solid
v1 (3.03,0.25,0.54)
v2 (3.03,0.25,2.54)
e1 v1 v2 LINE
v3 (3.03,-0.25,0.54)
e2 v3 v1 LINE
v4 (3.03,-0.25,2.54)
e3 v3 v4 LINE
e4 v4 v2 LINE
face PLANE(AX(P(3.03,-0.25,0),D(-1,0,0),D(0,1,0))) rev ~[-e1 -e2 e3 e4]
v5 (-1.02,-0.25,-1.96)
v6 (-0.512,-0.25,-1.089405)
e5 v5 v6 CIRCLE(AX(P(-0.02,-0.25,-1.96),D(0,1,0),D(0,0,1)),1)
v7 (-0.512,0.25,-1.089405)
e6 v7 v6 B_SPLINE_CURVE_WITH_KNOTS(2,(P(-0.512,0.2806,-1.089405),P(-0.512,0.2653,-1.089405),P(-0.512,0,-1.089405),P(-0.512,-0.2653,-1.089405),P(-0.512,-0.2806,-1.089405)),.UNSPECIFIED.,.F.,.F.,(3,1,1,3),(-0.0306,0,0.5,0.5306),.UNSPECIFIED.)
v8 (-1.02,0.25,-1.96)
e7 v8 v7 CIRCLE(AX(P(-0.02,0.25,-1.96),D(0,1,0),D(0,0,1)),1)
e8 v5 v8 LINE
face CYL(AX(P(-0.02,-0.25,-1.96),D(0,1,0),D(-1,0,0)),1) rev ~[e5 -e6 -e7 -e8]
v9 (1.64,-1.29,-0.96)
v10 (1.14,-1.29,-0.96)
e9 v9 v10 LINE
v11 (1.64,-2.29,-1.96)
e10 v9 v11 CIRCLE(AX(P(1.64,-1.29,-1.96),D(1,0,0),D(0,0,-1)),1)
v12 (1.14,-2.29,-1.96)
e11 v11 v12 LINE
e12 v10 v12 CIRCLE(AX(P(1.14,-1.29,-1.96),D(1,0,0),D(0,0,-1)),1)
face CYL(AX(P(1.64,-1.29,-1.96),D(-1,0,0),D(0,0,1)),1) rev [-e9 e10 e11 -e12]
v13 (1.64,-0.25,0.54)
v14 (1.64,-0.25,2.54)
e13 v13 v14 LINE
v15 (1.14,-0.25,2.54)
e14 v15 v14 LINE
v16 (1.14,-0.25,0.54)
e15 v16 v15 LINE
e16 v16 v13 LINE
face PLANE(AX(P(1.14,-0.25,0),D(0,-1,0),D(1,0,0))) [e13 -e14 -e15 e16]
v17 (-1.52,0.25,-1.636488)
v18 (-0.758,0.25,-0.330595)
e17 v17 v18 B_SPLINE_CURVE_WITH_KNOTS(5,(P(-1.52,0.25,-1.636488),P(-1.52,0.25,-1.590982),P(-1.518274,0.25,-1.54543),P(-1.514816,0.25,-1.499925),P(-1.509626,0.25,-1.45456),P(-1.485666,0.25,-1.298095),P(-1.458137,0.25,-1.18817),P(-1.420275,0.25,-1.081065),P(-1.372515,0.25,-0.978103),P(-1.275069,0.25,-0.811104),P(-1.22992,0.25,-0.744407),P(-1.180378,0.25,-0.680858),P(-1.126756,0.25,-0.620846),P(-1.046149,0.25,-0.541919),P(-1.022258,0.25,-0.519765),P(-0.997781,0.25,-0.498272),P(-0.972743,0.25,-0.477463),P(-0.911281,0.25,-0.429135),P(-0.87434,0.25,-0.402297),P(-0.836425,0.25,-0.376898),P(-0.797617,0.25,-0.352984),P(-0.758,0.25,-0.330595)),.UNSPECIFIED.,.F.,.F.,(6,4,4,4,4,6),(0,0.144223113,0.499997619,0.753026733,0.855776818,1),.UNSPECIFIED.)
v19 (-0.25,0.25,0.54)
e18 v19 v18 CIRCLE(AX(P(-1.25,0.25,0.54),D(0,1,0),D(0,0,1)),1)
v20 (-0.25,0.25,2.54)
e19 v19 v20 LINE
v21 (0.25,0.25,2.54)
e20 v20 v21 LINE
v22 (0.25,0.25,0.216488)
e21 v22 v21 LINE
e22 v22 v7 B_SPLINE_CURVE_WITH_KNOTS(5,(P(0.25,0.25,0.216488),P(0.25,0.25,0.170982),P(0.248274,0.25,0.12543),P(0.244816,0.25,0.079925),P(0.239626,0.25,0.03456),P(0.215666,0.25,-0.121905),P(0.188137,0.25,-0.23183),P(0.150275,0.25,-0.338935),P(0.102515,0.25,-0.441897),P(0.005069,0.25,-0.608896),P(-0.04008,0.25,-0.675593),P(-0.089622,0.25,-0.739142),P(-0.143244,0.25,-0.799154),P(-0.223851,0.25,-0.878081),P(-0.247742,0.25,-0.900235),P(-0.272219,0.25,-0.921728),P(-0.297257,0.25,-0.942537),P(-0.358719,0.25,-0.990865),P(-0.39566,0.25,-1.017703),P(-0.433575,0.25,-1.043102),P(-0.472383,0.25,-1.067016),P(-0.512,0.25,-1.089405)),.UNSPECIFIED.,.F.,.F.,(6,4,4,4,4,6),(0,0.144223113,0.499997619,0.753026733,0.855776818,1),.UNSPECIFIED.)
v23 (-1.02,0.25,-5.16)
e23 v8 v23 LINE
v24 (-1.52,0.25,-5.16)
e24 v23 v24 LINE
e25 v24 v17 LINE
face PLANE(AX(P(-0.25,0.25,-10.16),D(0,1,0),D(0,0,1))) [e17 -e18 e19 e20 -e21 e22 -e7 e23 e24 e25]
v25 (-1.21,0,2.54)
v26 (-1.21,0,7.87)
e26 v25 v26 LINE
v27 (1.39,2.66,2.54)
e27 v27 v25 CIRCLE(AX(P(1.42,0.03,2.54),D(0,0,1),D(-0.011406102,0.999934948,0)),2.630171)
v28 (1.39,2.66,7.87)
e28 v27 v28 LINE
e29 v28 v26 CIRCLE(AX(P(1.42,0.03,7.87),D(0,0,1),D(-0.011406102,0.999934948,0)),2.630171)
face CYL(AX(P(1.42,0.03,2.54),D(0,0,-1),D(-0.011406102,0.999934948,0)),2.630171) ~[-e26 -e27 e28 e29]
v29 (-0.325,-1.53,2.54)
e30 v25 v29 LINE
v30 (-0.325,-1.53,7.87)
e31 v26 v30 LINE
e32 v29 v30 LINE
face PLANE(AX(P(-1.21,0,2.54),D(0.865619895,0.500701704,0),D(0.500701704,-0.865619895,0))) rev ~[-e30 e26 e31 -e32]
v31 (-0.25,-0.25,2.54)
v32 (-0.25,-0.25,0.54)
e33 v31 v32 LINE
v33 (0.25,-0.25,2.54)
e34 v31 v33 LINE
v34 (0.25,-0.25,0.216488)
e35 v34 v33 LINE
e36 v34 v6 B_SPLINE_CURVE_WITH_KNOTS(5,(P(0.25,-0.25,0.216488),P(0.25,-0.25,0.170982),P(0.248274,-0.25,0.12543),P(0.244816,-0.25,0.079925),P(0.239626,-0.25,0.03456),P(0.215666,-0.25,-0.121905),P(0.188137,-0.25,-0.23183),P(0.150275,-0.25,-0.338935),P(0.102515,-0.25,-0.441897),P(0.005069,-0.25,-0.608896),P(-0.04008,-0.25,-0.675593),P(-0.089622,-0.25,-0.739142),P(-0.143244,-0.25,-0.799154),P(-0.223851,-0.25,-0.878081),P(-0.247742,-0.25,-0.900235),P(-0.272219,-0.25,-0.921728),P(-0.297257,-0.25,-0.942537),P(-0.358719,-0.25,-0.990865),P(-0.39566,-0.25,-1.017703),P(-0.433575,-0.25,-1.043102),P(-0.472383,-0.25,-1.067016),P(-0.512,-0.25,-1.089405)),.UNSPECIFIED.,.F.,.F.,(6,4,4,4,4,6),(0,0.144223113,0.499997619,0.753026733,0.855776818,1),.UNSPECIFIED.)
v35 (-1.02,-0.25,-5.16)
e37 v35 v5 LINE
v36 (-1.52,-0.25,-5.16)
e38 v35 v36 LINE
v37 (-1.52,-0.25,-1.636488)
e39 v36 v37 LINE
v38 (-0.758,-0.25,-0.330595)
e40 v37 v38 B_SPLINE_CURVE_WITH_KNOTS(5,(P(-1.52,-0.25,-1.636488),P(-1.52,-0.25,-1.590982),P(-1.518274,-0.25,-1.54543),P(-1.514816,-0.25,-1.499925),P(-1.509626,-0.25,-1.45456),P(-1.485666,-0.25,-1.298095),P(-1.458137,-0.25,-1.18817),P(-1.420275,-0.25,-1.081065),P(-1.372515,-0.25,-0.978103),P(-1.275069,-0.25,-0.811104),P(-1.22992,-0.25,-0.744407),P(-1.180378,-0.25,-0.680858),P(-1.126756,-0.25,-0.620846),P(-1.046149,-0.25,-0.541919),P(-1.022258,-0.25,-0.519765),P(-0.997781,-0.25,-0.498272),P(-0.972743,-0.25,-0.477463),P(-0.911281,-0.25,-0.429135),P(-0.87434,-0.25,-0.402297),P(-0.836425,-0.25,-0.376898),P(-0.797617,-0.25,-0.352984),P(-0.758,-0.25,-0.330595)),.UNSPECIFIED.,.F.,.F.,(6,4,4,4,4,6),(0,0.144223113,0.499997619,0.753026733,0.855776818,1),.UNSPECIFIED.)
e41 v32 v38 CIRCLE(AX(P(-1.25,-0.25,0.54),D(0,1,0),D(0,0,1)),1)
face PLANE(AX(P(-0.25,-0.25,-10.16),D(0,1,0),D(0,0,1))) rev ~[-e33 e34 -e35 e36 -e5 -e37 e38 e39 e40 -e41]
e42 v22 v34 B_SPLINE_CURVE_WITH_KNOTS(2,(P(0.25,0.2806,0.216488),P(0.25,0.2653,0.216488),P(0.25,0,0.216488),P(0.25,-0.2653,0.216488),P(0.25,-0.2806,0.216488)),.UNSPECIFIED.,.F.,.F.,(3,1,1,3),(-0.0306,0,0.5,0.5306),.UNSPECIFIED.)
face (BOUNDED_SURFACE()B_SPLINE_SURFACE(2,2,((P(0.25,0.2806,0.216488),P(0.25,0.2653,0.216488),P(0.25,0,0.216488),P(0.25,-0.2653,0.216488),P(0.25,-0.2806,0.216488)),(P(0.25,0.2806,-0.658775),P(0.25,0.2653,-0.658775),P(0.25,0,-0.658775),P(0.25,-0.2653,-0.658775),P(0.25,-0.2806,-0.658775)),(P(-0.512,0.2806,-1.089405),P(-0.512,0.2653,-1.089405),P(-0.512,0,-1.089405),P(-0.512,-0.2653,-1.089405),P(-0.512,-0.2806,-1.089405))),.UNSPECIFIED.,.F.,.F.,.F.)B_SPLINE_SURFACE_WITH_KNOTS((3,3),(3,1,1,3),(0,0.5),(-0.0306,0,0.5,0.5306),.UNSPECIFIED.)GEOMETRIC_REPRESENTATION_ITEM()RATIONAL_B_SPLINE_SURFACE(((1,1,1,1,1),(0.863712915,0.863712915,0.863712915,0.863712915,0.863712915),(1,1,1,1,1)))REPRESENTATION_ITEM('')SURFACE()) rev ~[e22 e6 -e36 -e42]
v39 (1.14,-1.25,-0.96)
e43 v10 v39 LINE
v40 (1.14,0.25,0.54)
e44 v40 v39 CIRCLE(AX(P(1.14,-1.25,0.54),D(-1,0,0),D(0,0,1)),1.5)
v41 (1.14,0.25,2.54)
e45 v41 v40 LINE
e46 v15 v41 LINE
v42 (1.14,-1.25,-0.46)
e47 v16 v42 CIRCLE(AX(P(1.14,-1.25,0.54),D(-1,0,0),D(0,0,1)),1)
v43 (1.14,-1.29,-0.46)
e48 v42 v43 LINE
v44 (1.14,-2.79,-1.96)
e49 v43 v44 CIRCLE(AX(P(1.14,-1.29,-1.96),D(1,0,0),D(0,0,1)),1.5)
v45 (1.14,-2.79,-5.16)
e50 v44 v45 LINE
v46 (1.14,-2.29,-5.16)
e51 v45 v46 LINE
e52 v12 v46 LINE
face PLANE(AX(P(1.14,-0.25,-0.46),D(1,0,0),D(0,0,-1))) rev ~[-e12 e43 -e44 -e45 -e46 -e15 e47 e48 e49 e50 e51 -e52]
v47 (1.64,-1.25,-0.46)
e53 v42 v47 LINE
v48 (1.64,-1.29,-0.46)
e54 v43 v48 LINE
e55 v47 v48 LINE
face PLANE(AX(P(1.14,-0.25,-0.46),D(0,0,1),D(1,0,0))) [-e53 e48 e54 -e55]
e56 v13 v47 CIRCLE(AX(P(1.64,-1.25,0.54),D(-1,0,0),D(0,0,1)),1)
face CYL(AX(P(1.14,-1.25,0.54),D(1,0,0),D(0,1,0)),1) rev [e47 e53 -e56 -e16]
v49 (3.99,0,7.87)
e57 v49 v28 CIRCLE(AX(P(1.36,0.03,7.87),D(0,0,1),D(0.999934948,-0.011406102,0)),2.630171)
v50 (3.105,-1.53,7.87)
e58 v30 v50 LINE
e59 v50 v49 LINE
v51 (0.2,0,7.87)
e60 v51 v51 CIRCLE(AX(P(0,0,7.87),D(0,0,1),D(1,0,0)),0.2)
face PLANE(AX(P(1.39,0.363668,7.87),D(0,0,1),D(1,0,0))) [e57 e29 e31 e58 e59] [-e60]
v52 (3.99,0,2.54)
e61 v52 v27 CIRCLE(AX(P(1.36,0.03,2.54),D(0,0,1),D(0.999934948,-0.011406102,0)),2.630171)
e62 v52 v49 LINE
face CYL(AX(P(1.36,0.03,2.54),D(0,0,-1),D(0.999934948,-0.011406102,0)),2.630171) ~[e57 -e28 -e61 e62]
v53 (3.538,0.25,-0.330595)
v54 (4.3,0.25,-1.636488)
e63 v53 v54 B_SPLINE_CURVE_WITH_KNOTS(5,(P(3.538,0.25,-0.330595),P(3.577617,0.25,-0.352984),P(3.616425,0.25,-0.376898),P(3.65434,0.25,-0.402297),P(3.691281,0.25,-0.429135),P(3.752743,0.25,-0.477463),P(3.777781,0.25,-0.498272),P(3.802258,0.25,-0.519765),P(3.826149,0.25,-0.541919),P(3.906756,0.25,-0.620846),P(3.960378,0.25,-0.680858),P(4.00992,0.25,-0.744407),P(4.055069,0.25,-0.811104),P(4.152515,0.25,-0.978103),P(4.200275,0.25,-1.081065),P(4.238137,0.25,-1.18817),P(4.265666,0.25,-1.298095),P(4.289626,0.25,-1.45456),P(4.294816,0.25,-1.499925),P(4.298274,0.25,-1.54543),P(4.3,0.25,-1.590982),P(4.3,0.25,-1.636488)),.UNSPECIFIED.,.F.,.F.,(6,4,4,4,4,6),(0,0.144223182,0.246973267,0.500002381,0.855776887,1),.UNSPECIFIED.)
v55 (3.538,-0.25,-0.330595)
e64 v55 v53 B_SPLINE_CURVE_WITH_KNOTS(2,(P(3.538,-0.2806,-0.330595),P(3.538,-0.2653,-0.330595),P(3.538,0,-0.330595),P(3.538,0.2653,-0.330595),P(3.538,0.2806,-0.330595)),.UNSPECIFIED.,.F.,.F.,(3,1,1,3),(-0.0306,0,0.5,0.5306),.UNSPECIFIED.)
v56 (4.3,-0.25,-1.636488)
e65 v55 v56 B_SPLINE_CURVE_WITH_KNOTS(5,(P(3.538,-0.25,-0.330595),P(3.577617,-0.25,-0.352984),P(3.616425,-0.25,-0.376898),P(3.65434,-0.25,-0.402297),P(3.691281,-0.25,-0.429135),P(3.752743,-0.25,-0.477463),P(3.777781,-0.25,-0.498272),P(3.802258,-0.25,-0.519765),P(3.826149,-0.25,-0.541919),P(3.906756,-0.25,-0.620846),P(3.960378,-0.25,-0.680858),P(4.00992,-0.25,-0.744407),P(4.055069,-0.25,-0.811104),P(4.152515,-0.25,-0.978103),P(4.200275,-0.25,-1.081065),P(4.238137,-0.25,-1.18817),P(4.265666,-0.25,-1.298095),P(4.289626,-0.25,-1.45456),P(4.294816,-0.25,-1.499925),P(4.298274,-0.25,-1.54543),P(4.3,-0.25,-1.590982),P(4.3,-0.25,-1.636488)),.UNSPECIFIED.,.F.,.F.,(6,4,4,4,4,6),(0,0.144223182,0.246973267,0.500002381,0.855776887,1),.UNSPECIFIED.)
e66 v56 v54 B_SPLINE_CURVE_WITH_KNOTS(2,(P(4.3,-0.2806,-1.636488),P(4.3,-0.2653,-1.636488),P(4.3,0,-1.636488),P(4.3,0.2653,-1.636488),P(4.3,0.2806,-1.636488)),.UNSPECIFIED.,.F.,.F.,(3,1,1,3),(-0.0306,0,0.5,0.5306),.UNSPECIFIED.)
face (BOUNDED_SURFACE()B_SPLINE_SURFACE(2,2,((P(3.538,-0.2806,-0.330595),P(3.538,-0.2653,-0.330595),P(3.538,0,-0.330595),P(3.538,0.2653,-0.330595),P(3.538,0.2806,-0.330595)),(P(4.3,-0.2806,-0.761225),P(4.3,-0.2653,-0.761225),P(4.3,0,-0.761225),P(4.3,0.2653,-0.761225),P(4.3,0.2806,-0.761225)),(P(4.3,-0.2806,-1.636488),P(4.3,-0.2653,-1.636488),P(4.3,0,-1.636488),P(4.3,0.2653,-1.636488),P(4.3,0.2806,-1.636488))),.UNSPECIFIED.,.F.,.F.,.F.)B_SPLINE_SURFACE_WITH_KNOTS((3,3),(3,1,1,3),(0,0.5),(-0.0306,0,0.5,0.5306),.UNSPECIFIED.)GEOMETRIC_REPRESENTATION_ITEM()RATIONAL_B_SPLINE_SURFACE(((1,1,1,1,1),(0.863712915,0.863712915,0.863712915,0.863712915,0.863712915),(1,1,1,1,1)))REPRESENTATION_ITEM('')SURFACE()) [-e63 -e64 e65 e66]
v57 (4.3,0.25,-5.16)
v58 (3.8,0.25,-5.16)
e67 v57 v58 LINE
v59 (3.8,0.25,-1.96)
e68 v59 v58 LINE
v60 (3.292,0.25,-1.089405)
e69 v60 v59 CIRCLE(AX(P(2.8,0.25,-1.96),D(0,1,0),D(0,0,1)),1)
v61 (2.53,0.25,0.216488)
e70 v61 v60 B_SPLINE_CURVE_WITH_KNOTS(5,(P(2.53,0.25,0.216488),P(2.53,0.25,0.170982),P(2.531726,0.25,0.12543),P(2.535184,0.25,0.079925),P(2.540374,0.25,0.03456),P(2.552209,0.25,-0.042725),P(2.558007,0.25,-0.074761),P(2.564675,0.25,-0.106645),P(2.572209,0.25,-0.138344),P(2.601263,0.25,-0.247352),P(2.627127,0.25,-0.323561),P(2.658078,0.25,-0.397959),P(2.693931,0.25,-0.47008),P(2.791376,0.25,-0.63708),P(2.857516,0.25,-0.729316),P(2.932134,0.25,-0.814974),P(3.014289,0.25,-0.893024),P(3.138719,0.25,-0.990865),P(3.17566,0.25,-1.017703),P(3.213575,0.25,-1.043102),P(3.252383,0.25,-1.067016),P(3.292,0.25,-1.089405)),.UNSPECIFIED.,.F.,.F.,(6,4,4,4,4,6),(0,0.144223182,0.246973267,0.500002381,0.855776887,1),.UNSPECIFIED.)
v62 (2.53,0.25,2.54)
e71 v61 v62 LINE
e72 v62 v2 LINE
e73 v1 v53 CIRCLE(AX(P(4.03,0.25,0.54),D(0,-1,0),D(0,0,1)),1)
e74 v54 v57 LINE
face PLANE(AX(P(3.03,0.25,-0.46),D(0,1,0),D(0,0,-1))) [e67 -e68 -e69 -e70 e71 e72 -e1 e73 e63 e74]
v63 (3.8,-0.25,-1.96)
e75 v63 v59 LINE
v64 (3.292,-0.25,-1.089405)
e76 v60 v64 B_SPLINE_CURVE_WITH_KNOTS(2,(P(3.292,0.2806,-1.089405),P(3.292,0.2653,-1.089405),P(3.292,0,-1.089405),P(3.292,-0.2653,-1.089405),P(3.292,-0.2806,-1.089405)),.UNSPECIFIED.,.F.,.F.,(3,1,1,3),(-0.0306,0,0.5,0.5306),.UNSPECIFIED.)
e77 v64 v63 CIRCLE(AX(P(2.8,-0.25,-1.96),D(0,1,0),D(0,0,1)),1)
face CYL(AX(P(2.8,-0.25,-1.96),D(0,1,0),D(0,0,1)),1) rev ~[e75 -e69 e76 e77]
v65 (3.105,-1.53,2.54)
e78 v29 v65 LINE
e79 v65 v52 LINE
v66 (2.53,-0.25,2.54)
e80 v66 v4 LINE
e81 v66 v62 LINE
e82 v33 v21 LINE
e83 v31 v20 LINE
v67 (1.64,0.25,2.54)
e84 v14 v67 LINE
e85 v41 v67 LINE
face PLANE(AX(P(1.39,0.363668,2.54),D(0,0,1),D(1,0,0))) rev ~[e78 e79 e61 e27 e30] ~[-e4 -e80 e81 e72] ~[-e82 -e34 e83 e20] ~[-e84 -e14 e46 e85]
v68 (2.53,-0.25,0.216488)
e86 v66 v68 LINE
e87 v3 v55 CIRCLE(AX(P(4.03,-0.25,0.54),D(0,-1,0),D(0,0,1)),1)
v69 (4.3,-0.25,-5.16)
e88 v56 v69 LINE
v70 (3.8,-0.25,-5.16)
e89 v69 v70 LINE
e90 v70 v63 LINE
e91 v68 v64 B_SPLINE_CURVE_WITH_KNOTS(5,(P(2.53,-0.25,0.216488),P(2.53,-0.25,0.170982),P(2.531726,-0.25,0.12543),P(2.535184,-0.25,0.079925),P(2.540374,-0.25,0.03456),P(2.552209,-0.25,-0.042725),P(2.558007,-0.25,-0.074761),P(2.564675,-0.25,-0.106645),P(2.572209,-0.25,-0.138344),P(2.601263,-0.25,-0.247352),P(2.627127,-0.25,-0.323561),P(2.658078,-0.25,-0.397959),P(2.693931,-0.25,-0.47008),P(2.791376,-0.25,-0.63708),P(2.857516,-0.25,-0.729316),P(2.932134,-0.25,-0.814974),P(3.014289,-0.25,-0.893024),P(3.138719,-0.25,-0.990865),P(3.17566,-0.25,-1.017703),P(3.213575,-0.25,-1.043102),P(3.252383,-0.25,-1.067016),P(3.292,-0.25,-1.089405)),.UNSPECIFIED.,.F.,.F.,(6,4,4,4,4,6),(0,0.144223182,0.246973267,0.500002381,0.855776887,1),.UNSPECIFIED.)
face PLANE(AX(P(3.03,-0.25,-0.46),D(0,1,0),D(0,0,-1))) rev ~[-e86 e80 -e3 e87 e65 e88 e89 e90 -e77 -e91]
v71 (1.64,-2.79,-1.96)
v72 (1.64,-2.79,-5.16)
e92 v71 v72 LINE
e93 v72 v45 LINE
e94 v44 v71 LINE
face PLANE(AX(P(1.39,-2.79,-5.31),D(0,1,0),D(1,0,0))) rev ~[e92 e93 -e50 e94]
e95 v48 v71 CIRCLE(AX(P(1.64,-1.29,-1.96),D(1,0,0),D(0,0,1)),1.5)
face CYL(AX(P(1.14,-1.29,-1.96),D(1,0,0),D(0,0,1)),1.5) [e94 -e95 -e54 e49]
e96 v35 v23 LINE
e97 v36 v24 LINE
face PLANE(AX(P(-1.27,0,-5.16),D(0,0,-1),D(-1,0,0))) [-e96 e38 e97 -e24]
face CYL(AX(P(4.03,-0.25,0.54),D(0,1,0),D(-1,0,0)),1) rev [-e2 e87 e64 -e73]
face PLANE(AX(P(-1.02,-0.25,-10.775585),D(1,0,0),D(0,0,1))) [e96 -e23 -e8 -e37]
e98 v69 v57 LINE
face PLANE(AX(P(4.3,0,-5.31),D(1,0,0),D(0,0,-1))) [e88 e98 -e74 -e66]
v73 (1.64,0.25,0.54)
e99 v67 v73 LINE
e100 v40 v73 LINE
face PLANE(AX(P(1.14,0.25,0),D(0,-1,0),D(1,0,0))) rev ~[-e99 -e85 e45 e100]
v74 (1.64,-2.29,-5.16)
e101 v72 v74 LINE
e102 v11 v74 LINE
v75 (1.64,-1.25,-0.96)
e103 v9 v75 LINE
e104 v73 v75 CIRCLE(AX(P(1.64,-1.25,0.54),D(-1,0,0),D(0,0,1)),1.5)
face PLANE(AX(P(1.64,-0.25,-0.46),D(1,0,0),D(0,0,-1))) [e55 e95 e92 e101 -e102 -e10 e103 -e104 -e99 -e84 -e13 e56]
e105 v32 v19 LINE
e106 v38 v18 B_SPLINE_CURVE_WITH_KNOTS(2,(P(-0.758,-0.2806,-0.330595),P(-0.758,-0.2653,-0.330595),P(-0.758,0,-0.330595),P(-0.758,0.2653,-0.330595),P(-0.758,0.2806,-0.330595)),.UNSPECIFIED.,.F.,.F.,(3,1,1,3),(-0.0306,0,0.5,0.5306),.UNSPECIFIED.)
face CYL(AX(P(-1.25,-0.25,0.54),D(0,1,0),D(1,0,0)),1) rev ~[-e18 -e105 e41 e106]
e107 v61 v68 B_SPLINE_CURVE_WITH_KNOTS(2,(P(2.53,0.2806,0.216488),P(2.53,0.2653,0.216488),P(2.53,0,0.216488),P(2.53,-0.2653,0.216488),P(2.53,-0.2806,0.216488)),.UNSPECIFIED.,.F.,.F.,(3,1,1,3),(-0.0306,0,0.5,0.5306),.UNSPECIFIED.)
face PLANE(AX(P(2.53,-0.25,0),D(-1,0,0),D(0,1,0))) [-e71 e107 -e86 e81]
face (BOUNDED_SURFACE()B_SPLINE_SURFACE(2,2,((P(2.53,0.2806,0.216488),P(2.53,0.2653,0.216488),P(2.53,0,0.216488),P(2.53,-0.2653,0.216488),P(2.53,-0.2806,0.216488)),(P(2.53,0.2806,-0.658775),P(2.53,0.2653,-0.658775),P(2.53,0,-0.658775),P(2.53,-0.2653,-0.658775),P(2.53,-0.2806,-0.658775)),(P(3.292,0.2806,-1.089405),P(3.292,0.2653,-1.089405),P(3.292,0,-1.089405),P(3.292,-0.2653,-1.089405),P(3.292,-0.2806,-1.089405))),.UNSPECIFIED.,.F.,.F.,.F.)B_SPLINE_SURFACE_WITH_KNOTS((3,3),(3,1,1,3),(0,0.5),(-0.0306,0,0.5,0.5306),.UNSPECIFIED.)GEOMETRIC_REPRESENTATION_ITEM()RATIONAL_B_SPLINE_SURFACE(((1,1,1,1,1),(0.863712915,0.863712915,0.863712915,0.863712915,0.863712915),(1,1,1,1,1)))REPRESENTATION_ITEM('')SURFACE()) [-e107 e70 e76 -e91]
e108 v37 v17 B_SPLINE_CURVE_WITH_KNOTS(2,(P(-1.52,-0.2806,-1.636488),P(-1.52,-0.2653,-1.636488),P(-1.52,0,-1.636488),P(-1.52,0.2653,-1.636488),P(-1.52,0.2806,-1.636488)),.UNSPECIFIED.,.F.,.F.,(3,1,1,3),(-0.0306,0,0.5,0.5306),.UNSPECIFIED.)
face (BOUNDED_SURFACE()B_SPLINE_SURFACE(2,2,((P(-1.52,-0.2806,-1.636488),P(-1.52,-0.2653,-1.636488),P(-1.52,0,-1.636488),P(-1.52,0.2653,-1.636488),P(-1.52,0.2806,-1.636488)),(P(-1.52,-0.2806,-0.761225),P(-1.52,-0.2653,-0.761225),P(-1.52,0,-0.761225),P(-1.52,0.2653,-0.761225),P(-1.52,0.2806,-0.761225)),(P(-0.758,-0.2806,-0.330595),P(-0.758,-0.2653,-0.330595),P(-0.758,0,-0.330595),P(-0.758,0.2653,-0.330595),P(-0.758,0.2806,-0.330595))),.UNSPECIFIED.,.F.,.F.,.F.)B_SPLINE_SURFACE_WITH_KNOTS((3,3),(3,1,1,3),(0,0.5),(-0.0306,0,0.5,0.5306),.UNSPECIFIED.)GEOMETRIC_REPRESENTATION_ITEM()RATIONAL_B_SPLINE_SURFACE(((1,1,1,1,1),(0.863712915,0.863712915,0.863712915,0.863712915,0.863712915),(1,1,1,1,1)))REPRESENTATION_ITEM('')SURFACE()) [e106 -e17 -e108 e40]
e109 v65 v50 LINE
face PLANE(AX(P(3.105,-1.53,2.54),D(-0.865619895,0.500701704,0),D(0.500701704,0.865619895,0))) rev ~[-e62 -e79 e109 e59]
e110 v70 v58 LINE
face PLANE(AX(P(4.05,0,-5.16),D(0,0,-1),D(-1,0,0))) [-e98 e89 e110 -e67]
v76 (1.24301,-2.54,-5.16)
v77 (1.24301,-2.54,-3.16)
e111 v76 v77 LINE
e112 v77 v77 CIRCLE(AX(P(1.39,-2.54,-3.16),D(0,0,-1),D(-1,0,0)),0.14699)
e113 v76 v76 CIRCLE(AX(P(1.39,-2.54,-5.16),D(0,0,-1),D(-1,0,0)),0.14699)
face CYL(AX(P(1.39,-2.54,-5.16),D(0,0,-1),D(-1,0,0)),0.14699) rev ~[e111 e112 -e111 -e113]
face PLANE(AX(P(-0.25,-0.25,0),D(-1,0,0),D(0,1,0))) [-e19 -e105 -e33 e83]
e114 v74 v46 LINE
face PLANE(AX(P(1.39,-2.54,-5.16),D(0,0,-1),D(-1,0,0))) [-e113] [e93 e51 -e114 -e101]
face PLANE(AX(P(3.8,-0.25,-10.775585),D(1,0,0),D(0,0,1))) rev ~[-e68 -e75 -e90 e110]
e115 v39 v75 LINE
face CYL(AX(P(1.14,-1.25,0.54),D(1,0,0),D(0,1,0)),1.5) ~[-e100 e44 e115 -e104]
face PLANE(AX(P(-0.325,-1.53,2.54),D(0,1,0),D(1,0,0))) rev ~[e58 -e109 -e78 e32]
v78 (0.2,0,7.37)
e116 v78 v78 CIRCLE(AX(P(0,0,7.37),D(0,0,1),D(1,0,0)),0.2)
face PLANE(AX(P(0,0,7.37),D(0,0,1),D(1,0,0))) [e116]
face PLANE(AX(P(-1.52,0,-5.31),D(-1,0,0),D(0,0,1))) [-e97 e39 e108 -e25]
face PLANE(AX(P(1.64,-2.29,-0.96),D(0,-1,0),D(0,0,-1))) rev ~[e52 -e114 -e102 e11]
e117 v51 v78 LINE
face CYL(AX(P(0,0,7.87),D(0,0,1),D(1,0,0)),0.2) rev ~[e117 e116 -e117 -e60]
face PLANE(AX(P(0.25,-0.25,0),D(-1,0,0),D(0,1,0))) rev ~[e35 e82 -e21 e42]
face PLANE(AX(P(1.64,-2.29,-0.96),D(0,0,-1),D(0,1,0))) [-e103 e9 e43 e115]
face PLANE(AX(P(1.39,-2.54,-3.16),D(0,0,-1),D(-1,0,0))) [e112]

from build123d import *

# Parameters (mm, degrees)
EXTRUDE_1_DEPTH     = 5.33
SKETCH_1_W          = 0.5
SKETCH_1_H          = 0.5
EXTRUDE_2_DEPTH     = 2.54
SKETCH_1_2_W        = 0.5
SKETCH_1_2_H        = 0.5
EXTRUDE_3_DEPTH     = 10.16
SKETCH_4_R          = 0.2
CUT_EXTRUDE_1_DEPTH = 0.5
SKETCH_5_W          = 9.7
SKETCH_5_H          = 0.5
EXTRUDE_4_DEPTH     = 1.27
SKETCH_6_W          = 9.7
SKETCH_6_H          = 0.5
EXTRUDE_5_DEPTH     = 1.27
SKETCH_7_W          = 0.5
SKETCH_7_H          = 9.7
EXTRUDE_6_DEPTH     = 2.54
SKETCH_8_W          = 1.372733762
SKETCH_8_H          = 9.815585296
CUT_EXTRUDE_2_DEPTH = 2.54
SKETCH_9_W          = 9.522444549
SKETCH_9_H          = 3.637804143
CUT_EXTRUDE_3_DEPTH = 1
FILLET_1_R          = 1
FILLET_2_R          = 1.5
SKETCH_10_W         = 0.5
SKETCH_10_H         = 0.5
CUT_EXTRUDE_4_DEPTH = 5
SKETCH_11_R         = 0.1469903
CUT_EXTRUDE_5_DEPTH = 2


with BuildPart() as part:
    # Эскиз3 → Вытянуть1 (new body)
    with BuildSketch(Plane.XY.offset(2.54)):
        with BuildLine():
            Line((-0.325, -1.53), (3.105, -1.53))
            Line((3.105, -1.53), (3.99, 0))
            ThreePointArc((3.99, 0), (3.240904038, 1.868477631), (1.39, 2.66))
            ThreePointArc((1.39, 2.66), (-0.460904038, 1.868477631), (-1.21, 0))
            Line((-1.21, 0), (-0.325, -1.53))
        make_face()
    extrude(amount=EXTRUDE_1_DEPTH)

    # Эскиз1 → Вытянуть2 (add)
    with BuildSketch(Plane.XY):
        with Locations((1.39, 0)):
            Rectangle(SKETCH_1_W, SKETCH_1_H)
        Rectangle(SKETCH_1_W, SKETCH_1_H)
        with Locations((2.78, 0)):
            Rectangle(SKETCH_1_W, SKETCH_1_H)
    extrude(amount=EXTRUDE_2_DEPTH)

    # Эскиз1<2> → Вытянуть3 (add)
    with BuildSketch(Plane.XY):
        with Locations((1.39, 0)):
            Rectangle(SKETCH_1_2_W, SKETCH_1_2_H)
        Rectangle(SKETCH_1_2_W, SKETCH_1_2_H)
        with Locations((2.78, 0)):
            Rectangle(SKETCH_1_2_W, SKETCH_1_2_H)
    extrude(amount=-EXTRUDE_3_DEPTH)

    # Эскиз4 → Вырез-Вытянуть1 (cut)
    with BuildSketch(Plane.XY.offset(7.87)):
        Circle(SKETCH_4_R)
    extrude(amount=-CUT_EXTRUDE_1_DEPTH, mode=Mode.SUBTRACT)

    # Эскиз5 → Вытянуть4 (add)
    with BuildSketch(Plane(origin=(3.03, 0, 0), x_dir=(0, 0, -1), z_dir=(1, 0, 0))):
        with Locations((5.31, 0)):
            Rectangle(SKETCH_5_W, SKETCH_5_H)
    extrude(amount=EXTRUDE_4_DEPTH)

    # Эскиз6 → Вытянуть5 (add)
    with BuildSketch(Plane.ZY.offset(0.25)):
        with Locations((-5.31, 0)):
            Rectangle(SKETCH_6_W, SKETCH_6_H)
    extrude(amount=EXTRUDE_5_DEPTH)

    # Эскиз7 → Вытянуть6 (add)
    with BuildSketch(Plane(origin=(0, -0.25, 0), x_dir=(1, 0, 0), z_dir=(0, 1, 0))):
        with Locations((1.39, 5.31)):
            Rectangle(SKETCH_7_W, SKETCH_7_H)
    extrude(amount=-EXTRUDE_6_DEPTH)

    # Эскиз8 → Вырез-Вытянуть2 (cut)
    with BuildSketch(Plane.XZ.offset(0.25)):
        with Locations((-0.333633119, -5.867792648)):
            Rectangle(SKETCH_8_W, SKETCH_8_H)
        with Locations((3.113633119, -5.867792648)):
            Rectangle(SKETCH_8_W, SKETCH_8_H)
    extrude(amount=-CUT_EXTRUDE_2_DEPTH, mode=Mode.SUBTRACT)

    # Эскиз9 → Вырез-Вытянуть3 (cut)
    with BuildSketch(Plane(origin=(1.64, 0, 0), x_dir=(0, 0, -1), z_dir=(1, 0, 0))):
        with Locations((5.721222275, -0.471097928)):
            Rectangle(SKETCH_9_W, SKETCH_9_H)
    extrude(amount=-CUT_EXTRUDE_3_DEPTH, mode=Mode.SUBTRACT)

    # Скругление1
    fillet_1_edges = [part.edges().sort_by_distance(p)[0] for p in [
        (-1.02, 0, -0.96),
        (1.39, -2.29, -0.96),
        (3.8, 0, -0.96),
        (3.03, 0, -0.46),
        (1.39, -0.25, -0.46),
        (-0.25, 0, -0.46),
    ]]
    fillet(fillet_1_edges, radius=FILLET_1_R)

    # Скругление2
    fillet_2_edges = [part.edges().sort_by_distance(p)[0] for p in [
        (-1.52, 0, -0.46),
        (1.39, -2.79, -0.46),
        (4.3, 0, -0.46),
        (0.25, 0, -0.96),
        (1.39, 0.25, -0.96),
        (2.53, 0, -0.96),
    ]]
    fillet(fillet_2_edges, radius=FILLET_2_R)

    # Эскиз10 → Вырез-Вытянуть4 (cut)
    with BuildSketch(Plane(origin=(0, 0, -10.16), x_dir=(-1, 0, 0), z_dir=(0, 0, -1))):
        with Locations((-1.39, -2.54)):
            Rectangle(SKETCH_10_W, SKETCH_10_H)
        with Locations((1.27, 0)):
            Rectangle(SKETCH_10_W, SKETCH_10_H)
        with Locations((-4.05, 0)):
            Rectangle(SKETCH_10_W, SKETCH_10_H)
    extrude(amount=-CUT_EXTRUDE_4_DEPTH, mode=Mode.SUBTRACT)

    # Эскиз11 → Вырез-Вытянуть5 (cut)
    with BuildSketch(Plane(origin=(0, 0, -5.16), x_dir=(-1, 0, 0), z_dir=(0, 0, -1))):
        with Locations((-1.39, -2.54)):
            Circle(SKETCH_11_R)
    extrude(amount=-CUT_EXTRUDE_5_DEPTH, mode=Mode.SUBTRACT)


solid = part.part
